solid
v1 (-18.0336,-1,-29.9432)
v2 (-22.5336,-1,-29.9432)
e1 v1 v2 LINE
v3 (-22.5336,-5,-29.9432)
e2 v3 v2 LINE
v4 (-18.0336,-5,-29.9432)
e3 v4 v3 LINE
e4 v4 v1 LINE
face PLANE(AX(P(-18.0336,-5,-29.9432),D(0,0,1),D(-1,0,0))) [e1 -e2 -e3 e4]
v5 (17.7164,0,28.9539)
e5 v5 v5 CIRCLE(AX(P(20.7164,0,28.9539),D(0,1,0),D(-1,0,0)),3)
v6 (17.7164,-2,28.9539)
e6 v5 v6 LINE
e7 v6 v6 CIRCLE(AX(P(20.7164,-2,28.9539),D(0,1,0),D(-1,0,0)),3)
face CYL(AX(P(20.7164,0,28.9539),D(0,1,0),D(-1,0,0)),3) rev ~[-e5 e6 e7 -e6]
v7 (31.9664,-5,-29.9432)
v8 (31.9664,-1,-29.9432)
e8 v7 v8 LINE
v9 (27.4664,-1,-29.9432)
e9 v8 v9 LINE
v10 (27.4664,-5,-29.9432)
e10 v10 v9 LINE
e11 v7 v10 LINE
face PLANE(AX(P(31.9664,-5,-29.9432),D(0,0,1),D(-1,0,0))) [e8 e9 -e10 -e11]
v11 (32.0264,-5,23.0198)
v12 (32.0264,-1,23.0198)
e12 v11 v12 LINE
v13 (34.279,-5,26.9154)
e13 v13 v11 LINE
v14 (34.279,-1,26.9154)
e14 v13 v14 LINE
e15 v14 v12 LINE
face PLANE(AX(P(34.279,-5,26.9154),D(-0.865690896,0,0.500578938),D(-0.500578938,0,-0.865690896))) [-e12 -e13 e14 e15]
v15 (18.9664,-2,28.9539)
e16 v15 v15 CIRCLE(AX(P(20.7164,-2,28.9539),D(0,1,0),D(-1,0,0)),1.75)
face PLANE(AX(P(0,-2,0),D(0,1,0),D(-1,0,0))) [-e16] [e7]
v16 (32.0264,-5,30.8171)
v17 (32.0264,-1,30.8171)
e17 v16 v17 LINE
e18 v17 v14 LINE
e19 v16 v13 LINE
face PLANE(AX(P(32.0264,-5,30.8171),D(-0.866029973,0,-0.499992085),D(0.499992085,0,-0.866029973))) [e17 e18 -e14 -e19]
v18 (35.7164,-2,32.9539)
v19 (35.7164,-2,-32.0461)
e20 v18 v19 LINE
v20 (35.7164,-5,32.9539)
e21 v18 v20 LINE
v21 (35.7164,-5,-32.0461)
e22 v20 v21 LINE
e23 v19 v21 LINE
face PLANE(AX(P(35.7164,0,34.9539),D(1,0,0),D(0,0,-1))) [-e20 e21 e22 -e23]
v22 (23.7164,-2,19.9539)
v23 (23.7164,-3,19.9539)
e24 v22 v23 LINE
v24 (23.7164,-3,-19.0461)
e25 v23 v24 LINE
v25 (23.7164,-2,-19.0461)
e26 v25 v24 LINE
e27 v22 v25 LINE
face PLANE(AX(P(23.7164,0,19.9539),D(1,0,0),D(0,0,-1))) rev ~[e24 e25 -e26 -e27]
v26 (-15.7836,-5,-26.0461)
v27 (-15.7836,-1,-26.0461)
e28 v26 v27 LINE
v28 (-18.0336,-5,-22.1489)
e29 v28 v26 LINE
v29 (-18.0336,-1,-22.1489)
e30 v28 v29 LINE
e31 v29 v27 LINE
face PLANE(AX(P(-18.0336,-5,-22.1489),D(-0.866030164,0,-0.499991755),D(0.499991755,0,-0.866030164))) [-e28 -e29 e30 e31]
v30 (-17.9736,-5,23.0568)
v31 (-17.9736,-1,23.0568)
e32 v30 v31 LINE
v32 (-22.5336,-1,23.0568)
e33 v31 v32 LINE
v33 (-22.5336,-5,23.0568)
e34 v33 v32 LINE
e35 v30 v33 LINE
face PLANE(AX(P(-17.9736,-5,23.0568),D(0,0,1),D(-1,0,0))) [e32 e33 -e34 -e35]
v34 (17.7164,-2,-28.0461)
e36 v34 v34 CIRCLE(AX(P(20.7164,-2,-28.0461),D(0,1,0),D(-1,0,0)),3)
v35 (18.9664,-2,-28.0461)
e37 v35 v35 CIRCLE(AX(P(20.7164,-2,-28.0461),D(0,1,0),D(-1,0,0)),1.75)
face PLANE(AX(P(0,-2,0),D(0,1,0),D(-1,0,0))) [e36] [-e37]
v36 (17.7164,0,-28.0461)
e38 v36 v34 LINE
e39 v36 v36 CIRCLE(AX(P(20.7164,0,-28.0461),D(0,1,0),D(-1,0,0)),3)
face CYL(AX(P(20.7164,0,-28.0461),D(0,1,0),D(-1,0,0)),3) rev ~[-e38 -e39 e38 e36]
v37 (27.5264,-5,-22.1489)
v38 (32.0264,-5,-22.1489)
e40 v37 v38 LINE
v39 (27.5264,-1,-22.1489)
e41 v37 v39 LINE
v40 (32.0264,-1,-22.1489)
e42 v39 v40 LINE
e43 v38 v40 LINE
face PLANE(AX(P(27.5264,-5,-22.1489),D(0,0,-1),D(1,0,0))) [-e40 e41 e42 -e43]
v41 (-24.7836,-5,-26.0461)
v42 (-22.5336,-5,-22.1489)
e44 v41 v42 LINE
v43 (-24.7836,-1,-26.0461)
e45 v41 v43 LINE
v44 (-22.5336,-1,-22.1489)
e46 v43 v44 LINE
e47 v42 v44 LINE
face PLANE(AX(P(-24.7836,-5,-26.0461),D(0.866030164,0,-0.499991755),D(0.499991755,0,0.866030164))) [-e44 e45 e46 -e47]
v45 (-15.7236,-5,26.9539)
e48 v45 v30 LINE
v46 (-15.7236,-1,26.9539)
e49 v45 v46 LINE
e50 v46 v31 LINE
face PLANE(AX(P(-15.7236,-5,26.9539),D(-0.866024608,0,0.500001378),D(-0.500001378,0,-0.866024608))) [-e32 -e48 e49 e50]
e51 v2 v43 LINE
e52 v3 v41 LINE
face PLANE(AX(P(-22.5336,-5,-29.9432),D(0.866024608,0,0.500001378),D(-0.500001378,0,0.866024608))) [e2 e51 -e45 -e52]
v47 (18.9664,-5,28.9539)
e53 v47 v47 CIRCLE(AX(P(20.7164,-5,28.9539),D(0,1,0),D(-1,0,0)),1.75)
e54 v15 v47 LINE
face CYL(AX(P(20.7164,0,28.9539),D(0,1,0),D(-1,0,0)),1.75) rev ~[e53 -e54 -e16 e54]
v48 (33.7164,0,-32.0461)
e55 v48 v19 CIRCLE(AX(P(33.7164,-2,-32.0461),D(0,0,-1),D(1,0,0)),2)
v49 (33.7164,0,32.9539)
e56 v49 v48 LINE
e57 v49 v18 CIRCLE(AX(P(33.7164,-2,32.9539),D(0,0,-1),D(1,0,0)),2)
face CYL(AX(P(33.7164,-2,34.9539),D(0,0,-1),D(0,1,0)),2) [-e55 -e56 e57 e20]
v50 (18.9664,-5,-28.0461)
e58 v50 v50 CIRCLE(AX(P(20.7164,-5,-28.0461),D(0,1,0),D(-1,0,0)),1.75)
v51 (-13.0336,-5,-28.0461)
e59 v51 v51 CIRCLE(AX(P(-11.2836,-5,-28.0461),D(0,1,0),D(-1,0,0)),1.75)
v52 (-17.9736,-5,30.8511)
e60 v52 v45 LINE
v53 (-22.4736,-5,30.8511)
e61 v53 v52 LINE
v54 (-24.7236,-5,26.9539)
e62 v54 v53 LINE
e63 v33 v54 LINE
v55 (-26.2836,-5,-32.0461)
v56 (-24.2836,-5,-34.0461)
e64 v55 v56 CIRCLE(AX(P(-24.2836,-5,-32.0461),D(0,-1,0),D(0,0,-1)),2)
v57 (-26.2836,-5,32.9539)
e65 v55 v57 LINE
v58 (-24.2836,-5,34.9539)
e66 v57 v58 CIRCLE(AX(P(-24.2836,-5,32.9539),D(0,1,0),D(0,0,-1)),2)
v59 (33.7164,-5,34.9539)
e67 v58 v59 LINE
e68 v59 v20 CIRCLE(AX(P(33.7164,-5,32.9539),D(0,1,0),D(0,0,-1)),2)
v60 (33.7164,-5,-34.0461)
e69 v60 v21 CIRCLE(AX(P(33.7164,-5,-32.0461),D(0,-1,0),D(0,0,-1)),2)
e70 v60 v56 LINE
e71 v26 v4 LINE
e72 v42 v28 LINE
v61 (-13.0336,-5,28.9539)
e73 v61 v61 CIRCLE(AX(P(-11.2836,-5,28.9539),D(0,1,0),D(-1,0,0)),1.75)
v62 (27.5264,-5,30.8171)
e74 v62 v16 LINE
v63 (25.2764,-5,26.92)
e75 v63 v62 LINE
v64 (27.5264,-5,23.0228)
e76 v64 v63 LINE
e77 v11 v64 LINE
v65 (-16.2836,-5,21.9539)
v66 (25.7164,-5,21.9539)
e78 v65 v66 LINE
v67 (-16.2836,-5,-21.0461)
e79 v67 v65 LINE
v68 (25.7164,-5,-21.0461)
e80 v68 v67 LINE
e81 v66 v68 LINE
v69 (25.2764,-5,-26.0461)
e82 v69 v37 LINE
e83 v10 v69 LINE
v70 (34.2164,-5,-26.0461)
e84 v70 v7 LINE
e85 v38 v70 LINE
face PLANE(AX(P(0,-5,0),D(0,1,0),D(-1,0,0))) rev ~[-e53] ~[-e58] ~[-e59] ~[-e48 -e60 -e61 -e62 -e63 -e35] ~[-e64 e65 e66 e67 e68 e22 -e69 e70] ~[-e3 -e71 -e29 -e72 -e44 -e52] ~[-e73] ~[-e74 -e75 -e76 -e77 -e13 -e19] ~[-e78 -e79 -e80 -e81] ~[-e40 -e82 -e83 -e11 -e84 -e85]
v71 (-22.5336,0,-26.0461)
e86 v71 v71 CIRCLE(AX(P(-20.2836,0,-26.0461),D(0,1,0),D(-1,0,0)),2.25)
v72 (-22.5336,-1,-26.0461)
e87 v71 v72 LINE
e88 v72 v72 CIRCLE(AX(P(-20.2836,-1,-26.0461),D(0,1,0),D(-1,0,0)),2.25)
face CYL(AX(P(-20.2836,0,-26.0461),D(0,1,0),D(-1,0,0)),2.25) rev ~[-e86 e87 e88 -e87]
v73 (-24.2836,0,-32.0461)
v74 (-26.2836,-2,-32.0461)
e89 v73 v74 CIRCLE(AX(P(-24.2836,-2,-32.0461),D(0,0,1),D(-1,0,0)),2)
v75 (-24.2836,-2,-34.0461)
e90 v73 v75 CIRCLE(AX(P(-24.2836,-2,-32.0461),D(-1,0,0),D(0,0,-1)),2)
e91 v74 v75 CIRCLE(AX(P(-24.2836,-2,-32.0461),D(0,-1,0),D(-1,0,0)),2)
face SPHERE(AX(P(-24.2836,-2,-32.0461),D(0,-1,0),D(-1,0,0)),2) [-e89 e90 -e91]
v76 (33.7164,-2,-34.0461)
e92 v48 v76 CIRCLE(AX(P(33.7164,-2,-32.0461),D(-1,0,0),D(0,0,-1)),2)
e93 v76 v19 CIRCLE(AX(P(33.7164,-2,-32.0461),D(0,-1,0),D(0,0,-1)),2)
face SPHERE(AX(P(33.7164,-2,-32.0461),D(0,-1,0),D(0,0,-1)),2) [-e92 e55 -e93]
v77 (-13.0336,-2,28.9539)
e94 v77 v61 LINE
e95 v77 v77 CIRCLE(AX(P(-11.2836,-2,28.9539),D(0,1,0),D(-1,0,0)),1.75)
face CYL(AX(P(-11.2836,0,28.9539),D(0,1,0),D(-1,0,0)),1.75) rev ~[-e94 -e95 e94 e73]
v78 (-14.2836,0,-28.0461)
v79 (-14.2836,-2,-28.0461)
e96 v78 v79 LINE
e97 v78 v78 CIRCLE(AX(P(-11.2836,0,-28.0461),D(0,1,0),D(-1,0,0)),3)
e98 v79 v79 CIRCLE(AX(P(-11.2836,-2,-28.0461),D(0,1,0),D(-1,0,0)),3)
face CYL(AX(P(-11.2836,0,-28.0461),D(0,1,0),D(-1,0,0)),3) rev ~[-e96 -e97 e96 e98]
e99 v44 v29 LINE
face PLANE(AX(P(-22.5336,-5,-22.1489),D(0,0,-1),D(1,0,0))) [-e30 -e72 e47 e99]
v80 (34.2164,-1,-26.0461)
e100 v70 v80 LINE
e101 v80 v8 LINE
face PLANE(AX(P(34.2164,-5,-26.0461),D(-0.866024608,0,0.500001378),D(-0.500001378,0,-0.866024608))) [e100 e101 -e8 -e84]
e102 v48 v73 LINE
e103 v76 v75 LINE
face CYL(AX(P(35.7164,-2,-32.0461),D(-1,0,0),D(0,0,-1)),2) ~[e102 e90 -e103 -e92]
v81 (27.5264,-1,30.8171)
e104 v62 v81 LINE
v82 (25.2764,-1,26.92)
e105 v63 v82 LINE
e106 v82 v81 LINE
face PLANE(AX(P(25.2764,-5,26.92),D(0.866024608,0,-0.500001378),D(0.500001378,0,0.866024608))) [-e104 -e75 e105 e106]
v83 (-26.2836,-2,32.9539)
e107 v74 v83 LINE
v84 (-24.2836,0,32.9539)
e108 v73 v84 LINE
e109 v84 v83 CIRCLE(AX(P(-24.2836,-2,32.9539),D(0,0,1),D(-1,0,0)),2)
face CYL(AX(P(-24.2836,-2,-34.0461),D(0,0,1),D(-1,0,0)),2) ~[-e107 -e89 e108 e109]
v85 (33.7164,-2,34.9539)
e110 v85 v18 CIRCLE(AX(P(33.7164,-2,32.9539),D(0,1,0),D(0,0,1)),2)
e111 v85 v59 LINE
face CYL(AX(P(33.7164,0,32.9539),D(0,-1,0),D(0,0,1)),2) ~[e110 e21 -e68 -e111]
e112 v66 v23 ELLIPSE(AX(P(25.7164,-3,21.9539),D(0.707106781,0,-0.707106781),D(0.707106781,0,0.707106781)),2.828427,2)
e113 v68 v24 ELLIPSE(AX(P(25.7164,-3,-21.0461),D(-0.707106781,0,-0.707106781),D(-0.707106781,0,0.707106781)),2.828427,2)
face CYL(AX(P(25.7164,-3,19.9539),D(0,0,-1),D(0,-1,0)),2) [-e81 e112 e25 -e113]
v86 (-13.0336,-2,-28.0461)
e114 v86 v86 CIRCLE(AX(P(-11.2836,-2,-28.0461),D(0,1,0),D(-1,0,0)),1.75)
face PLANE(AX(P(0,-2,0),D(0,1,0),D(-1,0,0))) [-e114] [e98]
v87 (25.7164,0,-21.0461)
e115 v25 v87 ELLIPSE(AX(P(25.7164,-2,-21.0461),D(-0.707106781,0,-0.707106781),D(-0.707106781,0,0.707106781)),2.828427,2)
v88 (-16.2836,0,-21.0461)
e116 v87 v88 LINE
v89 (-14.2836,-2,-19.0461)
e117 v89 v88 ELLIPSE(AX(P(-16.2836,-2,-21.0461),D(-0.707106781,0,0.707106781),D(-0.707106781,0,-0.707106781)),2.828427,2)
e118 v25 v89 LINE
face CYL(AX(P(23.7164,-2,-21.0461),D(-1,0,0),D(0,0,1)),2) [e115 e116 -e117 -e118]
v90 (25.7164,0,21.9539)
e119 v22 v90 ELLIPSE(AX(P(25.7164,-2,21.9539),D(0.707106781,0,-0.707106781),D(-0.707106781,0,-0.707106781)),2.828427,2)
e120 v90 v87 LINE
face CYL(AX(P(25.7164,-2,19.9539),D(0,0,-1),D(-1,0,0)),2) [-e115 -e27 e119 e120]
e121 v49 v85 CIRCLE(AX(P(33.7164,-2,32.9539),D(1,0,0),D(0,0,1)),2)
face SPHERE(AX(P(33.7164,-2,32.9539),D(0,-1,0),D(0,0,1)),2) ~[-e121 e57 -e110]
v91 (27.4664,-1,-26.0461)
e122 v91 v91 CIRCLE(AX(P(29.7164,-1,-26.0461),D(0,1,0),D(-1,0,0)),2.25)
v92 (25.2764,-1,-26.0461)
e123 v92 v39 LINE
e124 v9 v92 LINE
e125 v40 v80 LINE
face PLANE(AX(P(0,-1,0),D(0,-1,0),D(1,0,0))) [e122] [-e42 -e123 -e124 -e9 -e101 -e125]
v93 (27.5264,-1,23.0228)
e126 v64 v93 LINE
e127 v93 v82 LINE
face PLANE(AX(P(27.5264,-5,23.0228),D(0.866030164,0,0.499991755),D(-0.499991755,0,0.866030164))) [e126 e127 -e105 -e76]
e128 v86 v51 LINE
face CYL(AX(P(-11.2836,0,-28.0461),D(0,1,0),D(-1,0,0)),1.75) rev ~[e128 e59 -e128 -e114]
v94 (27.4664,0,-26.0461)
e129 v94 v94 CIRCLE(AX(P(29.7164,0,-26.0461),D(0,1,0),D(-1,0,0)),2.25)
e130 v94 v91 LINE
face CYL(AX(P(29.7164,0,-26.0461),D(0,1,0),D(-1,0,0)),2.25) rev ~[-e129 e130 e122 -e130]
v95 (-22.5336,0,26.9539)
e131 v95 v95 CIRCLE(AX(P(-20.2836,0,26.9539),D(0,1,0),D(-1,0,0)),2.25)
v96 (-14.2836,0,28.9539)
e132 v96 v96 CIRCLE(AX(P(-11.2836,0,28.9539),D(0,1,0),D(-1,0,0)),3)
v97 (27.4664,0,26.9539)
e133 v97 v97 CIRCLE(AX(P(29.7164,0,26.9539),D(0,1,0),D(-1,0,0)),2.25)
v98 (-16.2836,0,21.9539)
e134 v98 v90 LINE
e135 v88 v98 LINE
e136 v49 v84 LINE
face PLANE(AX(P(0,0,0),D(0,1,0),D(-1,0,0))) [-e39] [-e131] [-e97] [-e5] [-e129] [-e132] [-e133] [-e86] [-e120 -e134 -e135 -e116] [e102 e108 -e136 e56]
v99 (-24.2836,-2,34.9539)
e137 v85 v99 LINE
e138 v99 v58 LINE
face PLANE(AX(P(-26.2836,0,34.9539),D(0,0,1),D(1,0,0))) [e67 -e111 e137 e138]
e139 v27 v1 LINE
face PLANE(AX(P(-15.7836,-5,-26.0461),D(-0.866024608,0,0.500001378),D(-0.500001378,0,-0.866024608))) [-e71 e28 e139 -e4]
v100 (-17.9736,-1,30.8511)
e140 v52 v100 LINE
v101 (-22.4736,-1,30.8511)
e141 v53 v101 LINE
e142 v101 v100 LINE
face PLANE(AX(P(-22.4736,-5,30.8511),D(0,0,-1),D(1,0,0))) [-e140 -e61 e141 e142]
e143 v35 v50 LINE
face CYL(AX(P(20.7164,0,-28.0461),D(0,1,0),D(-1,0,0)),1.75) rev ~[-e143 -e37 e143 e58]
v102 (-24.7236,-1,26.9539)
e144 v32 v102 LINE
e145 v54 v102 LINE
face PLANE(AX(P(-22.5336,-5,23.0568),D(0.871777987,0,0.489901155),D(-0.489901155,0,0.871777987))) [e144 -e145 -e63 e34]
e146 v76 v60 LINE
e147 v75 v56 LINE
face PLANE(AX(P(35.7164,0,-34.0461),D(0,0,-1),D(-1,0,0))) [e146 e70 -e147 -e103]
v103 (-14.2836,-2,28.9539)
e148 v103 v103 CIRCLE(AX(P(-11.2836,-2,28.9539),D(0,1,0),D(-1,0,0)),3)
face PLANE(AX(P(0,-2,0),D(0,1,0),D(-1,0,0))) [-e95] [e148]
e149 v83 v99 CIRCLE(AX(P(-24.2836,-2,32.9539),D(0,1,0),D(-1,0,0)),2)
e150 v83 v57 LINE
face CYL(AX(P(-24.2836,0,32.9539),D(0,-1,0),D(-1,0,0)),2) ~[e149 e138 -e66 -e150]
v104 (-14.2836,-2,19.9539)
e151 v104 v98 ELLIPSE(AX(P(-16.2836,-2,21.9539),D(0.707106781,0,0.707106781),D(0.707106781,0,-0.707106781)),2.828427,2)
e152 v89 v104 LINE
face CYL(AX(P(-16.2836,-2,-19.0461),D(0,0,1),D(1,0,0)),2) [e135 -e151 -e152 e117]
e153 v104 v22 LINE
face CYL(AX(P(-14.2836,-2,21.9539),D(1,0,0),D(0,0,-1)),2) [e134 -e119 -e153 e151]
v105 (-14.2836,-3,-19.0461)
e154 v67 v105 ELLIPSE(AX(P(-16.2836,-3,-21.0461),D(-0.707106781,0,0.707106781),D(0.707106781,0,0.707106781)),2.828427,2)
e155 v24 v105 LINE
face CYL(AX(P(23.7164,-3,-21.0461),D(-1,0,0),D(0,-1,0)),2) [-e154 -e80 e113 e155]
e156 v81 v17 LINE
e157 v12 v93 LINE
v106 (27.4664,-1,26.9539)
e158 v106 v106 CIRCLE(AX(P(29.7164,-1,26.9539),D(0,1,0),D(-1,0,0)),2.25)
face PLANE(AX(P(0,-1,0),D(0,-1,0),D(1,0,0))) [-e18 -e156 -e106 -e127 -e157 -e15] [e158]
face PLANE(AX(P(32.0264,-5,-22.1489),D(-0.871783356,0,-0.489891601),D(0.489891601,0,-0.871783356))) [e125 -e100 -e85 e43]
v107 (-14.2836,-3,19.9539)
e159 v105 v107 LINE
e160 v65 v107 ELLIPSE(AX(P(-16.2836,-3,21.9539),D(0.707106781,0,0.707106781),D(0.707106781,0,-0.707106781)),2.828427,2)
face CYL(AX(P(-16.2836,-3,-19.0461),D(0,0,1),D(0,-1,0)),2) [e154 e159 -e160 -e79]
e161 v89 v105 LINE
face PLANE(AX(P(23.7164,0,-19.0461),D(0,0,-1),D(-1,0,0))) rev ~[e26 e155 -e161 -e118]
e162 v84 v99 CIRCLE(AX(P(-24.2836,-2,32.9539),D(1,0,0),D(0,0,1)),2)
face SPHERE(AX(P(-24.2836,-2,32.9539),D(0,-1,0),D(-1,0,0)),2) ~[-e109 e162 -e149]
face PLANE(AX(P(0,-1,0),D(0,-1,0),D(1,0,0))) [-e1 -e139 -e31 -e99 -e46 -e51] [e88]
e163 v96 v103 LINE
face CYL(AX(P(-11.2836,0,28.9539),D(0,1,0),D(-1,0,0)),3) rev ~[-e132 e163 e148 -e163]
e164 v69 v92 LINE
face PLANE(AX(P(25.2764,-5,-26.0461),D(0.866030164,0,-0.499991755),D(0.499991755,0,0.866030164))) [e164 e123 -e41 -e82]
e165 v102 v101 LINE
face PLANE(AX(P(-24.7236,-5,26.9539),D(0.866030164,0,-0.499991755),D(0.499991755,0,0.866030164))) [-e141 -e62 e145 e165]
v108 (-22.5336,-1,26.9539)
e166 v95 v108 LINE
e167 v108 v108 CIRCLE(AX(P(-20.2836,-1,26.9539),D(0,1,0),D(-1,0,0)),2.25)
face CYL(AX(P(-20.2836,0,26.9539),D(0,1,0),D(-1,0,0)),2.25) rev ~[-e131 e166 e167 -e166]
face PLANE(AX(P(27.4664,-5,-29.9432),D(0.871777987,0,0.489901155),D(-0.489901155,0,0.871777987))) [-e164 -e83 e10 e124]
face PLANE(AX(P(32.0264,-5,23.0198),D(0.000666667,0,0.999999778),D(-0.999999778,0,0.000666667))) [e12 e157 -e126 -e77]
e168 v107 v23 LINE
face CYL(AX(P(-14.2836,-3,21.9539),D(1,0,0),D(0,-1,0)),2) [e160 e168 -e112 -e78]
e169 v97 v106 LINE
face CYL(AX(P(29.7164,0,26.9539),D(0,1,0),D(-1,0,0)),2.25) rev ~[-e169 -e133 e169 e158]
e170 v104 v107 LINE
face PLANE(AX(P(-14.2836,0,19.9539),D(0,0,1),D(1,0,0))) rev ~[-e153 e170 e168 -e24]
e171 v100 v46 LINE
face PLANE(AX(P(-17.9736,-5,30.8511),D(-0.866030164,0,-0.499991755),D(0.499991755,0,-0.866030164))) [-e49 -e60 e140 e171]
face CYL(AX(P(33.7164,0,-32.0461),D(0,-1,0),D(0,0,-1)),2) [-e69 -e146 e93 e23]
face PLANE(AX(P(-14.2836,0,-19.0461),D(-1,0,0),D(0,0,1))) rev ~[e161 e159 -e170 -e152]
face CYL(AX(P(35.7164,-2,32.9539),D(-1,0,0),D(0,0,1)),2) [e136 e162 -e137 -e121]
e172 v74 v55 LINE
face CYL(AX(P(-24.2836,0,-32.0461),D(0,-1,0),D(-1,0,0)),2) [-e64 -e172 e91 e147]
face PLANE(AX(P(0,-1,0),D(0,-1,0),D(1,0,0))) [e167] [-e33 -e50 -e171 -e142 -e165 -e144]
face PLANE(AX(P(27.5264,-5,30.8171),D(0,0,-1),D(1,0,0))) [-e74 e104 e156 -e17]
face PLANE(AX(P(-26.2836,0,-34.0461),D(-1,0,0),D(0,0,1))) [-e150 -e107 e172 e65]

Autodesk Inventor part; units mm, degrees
ref_plane "YZ Plane" through (0, 0, 0) normal (1, 0, 0) x (0, 1, 0)
ref_plane "XZ Plane" through (0, 0, 0) normal (0, 1, 0) x (-1, 0, 0)
ref_plane "XY Plane" through (0, 0, 0) normal (0, 0, 1) x (1, 0, 0)
sketch "Sketch1" plane through (0, 0, 0) normal (0, 1, 0) x (-1, 0, 0)
  line L0 (26.2836, 34.9539) -> (-35.7164, 34.9539)
  line L1 (-35.7164, 34.9539) -> (-35.7164, -34.0461)
  line L2 (-35.7164, -34.0461) -> (26.2836, -34.0461)
  line L3 (26.2836, -34.0461) -> (26.2836, 34.9539)
  circle A0 centre (11.2836, -28.0461) radius 1.75
  circle A1 centre (11.2836, -28.0461) radius 3
  circle A2 centre (-20.7164, -28.0461) radius 1.75
  circle A3 centre (-20.7164, -28.0461) radius 3
  circle A4 centre (-20.7164, 28.9539) radius 1.75
  circle A5 centre (-20.7164, 28.9539) radius 3
  circle A6 centre (11.2836, 28.9539) radius 1.75
  circle A7 centre (11.2836, 28.9539) radius 3
  line L4 (-15.7164, 34.9539) -> (-25.7164, 34.9539)
  circle A8 centre (20.2836, 26.9539) radius 2.25
  circle A9 centre (20.2836, -26.0461) radius 2.25
  circle A10 centre (-29.7164, 26.9539) radius 2.25
  circle A11 centre (-29.7164, -26.0461) radius 2.25
  circle A12 centre (20.2836, 26.9539) radius 4.5
  circle A13 centre (20.2836, -26.0461) radius 4.5
  circle A14 centre (-29.7164, -26.0461) radius 4.5
  circle A15 centre (-29.7164, 26.9539) radius 4.5
  line L5 (18.0336, 23.0568) -> (15.7836, 26.9539)
  line L6 (15.7836, 26.9539) -> (18.0336, 30.8511)
  line L7 (18.0336, 30.8511) -> (22.5336, 30.8511)
  line L8 (22.5336, 30.8511) -> (24.7836, 26.9539)
  line L9 (24.7836, 26.9539) -> (22.5336, 23.0568)
  line L10 (22.5336, 23.0568) -> (18.0336, 23.0568)
  line L11 (18.0336, -29.9432) -> (15.7836, -26.0461)
  line L12 (15.7836, -26.0461) -> (18.0336, -22.1489)
  line L13 (18.0336, -22.1489) -> (22.5336, -22.1489)
  line L14 (22.5336, -22.1489) -> (24.7836, -26.0461)
  line L15 (24.7836, -26.0461) -> (22.5336, -29.9432)
  line L16 (22.5336, -29.9432) -> (18.0336, -29.9432)
  line L17 (-31.9664, -29.9432) -> (-34.2164, -26.0461)
  line L18 (-34.2164, -26.0461) -> (-31.9664, -22.1489)
  line L19 (-31.9664, -22.1489) -> (-27.4664, -22.1489)
  line L20 (-27.4664, -22.1489) -> (-25.2164, -26.0461)
  line L21 (-25.2164, -26.0461) -> (-27.4664, -29.9432)
  line L22 (-27.4664, -29.9432) -> (-31.9664, -29.9432)
  line L23 (-31.9664, 23.0568) -> (-34.2164, 26.9539)
  line L24 (-34.2164, 26.9539) -> (-31.9664, 30.8511)
  line L25 (-31.9664, 30.8511) -> (-27.4664, 30.8511)
  line L26 (-27.4664, 30.8511) -> (-25.2164, 26.9539)
  line L27 (-25.2164, 26.9539) -> (-27.4664, 23.0568)
  line L28 (-27.4664, 23.0568) -> (-31.9664, 23.0568)
  point P0 (0, 0)
  dimension "d45" = 9
  dimension "d46" = 9
  dimension "d47" = 9
  dimension "d48" = 9
  dimension "d0" = 69
  dimension "d1" = 62
  dimension "d2" = 3.5
  dimension "d3" = 6
  dimension "d4" = 3.5
  dimension "d5" = 6
  dimension "d6" = 3.5
  dimension "d7" = 6
  dimension "d8" = 3.5
  dimension "d9" = 6
  dimension "d10" = 15
  dimension "d11" = 15
  dimension "d12" = 15
  dimension "d13" = 15
  dimension "d14" = 6
  dimension "d15" = 6
  dimension "d16" = 6
  dimension "d17" = 6
  dimension "d32" = 4.5
  dimension "d33" = 4.5
  dimension "d34" = 4.5
  dimension "d35" = 4.5
  dimension "d36" = 8
  dimension "d37" = 8
  dimension "d38" = 8
  dimension "d39" = 8
  dimension "d40" = 6
  dimension "d41" = 6
  dimension "d42" = 6
  dimension "d43" = 6
  dimension "d44" = 53
extrude "Extrusion1" add sketch "Sketch1" against normal blind 5 contours L3 L2 L1 L0 | A1 | A3 | A5 | A7 | L8 A12 | L9 L10 L5 L6 L7 L8 | A12 L9 | L7 A12 | A12 L10 | L6 A12 | A12 L5 | L14 A13 | L15 L16 L11 L12 L13 L14 | A13 L15 | L13 A13 | A13 L16 | L12 A13 | A13 L11 | L20 A14 | L21 L22 L17 L18 L19 L20 | A14 L21 | L19 A14 | A14 L22 | L18 A14 | A14 L17 | L26 A15 | L27 L28 L23 L24 L25 L26 | A15 L27 | L25 A15 | A15 L28 | L24 A15 | A15 L23
extrude "Extrusion2" cut sketch "Sketch1" against normal blind 2 contours A1 | A3 | A5 | A7
sketch "Sketch2" plane through (0, -5, 0) normal (0, -1, 0) x (1, 0, 0)
  line L0 (27.5264, 23.0228) -> (25.2764, 26.92)
  line L1 (25.2764, 26.92) -> (27.5264, 30.8171)
  line L2 (27.5264, 30.8171) -> (32.0264, 30.8171)
  line L3 (32.0264, 30.8171) -> (34.279, 26.9154)
  line L4 (34.279, 26.9154) -> (32.0264, 23.0198)
  line L5 (32.0264, 23.0198) -> (27.5264, 23.0228)
  line L6 (27.4664, -29.9432) -> (25.2764, -26.0461)
  line L7 (25.2764, -26.0461) -> (27.5264, -22.1489)
  line L8 (27.5264, -22.1489) -> (32.0264, -22.1489)
  line L9 (32.0264, -22.1489) -> (34.2164, -26.0461)
  line L10 (34.2164, -26.0461) -> (31.9664, -29.9432)
  line L11 (31.9664, -29.9432) -> (27.4664, -29.9432)
  line L12 (-22.5336, -29.9432) -> (-24.7836, -26.0461)
  line L13 (-24.7836, -26.0461) -> (-22.5336, -22.1489)
  line L14 (-22.5336, -22.1489) -> (-18.0336, -22.1489)
  line L15 (-18.0336, -22.1489) -> (-15.7836, -26.0461)
  line L16 (-15.7836, -26.0461) -> (-18.0336, -29.9432)
  line L17 (-18.0336, -29.9432) -> (-22.5336, -29.9432)
  line L18 (-22.5336, 23.0568) -> (-24.7236, 26.9539)
  line L19 (-24.7236, 26.9539) -> (-22.4736, 30.8511)
  line L20 (-22.4736, 30.8511) -> (-17.9736, 30.8511)
  line L21 (-17.9736, 30.8511) -> (-15.7236, 26.9539)
  line L22 (-15.7236, 26.9539) -> (-17.9736, 23.0568)
  line L23 (-17.9736, 23.0568) -> (-22.5336, 23.0568)
  line L24 (-26.2836, 34.9539) -> (-26.2836, -34.0461) projected
  line L25 (35.7164, 34.9539) -> (-26.2836, 34.9539) projected
  line L26 (35.7164, -34.0461) -> (35.7164, 34.9539) projected
  line L27 (-26.2836, -34.0461) -> (35.7164, -34.0461) projected
  point P0 (0, 0)
extrude "Extrusion3" cut sketch "Sketch2" against normal blind 4 contours L0 L1 L2 L3 L4 L5 | L6 L7 L8 L9 L10 L11 | L12 L13 L14 L15 L16 L17 | L18 L19 L20 L21 L22 L23
fillet "Fillet1" radius 2 8 edges at (35.7164, -2.5, -34.0461) (35.7164, -2.5, 34.9539) (-26.2836, -2.5, 34.9539) (-26.2836, -2.5, -34.0461) (-26.2836, 0, 0.4539) (4.7164, 0, -34.0461) (4.7164, 0, 34.9539) (35.7164, 0, 0.4539)
sketch "Sketch3" plane through (0, 0, 0) normal (0, 1, 0) x (1, 0, 0)
  line L0 (23.7164, 19.0461) -> (-14.2836, 19.0461)
  line L1 (-14.2836, 19.0461) -> (-14.2836, -19.9539)
  line L2 (-14.2836, -19.9539) -> (23.7164, -19.9539)
  line L3 (23.7164, -19.9539) -> (23.7164, 19.0461)
  line L4 (35.7164, -32.9539) -> (35.7164, 32.0461) projected
  line L5 (-26.2836, 32.0461) -> (-26.2836, -32.9539) projected
  line L6 (-24.2836, -34.9539) -> (33.7164, -34.9539) projected
  line L7 (33.7164, 34.0461) -> (-24.2836, 34.0461) projected
  point P0 (0, 0)
  dimension "d68" = 12
  dimension "d69" = 12
  dimension "d70" = 15
  dimension "d71" = 15
extrude "Extrusion4" cut sketch "Sketch3" against normal through all
fillet "Fillet2" radius 2 8 edges at (4.7164, 0, -19.0461) (23.7164, 0, 0.4539) (4.7164, 0, 19.9539) (-14.2836, 0, 0.4539) (4.7164, -5, 19.9539) (-14.2836, -5, 0.4539) (4.7164, -5, -19.0461) (23.7164, -5, 0.4539)
properties part number "BatteryHolder2PBase"
